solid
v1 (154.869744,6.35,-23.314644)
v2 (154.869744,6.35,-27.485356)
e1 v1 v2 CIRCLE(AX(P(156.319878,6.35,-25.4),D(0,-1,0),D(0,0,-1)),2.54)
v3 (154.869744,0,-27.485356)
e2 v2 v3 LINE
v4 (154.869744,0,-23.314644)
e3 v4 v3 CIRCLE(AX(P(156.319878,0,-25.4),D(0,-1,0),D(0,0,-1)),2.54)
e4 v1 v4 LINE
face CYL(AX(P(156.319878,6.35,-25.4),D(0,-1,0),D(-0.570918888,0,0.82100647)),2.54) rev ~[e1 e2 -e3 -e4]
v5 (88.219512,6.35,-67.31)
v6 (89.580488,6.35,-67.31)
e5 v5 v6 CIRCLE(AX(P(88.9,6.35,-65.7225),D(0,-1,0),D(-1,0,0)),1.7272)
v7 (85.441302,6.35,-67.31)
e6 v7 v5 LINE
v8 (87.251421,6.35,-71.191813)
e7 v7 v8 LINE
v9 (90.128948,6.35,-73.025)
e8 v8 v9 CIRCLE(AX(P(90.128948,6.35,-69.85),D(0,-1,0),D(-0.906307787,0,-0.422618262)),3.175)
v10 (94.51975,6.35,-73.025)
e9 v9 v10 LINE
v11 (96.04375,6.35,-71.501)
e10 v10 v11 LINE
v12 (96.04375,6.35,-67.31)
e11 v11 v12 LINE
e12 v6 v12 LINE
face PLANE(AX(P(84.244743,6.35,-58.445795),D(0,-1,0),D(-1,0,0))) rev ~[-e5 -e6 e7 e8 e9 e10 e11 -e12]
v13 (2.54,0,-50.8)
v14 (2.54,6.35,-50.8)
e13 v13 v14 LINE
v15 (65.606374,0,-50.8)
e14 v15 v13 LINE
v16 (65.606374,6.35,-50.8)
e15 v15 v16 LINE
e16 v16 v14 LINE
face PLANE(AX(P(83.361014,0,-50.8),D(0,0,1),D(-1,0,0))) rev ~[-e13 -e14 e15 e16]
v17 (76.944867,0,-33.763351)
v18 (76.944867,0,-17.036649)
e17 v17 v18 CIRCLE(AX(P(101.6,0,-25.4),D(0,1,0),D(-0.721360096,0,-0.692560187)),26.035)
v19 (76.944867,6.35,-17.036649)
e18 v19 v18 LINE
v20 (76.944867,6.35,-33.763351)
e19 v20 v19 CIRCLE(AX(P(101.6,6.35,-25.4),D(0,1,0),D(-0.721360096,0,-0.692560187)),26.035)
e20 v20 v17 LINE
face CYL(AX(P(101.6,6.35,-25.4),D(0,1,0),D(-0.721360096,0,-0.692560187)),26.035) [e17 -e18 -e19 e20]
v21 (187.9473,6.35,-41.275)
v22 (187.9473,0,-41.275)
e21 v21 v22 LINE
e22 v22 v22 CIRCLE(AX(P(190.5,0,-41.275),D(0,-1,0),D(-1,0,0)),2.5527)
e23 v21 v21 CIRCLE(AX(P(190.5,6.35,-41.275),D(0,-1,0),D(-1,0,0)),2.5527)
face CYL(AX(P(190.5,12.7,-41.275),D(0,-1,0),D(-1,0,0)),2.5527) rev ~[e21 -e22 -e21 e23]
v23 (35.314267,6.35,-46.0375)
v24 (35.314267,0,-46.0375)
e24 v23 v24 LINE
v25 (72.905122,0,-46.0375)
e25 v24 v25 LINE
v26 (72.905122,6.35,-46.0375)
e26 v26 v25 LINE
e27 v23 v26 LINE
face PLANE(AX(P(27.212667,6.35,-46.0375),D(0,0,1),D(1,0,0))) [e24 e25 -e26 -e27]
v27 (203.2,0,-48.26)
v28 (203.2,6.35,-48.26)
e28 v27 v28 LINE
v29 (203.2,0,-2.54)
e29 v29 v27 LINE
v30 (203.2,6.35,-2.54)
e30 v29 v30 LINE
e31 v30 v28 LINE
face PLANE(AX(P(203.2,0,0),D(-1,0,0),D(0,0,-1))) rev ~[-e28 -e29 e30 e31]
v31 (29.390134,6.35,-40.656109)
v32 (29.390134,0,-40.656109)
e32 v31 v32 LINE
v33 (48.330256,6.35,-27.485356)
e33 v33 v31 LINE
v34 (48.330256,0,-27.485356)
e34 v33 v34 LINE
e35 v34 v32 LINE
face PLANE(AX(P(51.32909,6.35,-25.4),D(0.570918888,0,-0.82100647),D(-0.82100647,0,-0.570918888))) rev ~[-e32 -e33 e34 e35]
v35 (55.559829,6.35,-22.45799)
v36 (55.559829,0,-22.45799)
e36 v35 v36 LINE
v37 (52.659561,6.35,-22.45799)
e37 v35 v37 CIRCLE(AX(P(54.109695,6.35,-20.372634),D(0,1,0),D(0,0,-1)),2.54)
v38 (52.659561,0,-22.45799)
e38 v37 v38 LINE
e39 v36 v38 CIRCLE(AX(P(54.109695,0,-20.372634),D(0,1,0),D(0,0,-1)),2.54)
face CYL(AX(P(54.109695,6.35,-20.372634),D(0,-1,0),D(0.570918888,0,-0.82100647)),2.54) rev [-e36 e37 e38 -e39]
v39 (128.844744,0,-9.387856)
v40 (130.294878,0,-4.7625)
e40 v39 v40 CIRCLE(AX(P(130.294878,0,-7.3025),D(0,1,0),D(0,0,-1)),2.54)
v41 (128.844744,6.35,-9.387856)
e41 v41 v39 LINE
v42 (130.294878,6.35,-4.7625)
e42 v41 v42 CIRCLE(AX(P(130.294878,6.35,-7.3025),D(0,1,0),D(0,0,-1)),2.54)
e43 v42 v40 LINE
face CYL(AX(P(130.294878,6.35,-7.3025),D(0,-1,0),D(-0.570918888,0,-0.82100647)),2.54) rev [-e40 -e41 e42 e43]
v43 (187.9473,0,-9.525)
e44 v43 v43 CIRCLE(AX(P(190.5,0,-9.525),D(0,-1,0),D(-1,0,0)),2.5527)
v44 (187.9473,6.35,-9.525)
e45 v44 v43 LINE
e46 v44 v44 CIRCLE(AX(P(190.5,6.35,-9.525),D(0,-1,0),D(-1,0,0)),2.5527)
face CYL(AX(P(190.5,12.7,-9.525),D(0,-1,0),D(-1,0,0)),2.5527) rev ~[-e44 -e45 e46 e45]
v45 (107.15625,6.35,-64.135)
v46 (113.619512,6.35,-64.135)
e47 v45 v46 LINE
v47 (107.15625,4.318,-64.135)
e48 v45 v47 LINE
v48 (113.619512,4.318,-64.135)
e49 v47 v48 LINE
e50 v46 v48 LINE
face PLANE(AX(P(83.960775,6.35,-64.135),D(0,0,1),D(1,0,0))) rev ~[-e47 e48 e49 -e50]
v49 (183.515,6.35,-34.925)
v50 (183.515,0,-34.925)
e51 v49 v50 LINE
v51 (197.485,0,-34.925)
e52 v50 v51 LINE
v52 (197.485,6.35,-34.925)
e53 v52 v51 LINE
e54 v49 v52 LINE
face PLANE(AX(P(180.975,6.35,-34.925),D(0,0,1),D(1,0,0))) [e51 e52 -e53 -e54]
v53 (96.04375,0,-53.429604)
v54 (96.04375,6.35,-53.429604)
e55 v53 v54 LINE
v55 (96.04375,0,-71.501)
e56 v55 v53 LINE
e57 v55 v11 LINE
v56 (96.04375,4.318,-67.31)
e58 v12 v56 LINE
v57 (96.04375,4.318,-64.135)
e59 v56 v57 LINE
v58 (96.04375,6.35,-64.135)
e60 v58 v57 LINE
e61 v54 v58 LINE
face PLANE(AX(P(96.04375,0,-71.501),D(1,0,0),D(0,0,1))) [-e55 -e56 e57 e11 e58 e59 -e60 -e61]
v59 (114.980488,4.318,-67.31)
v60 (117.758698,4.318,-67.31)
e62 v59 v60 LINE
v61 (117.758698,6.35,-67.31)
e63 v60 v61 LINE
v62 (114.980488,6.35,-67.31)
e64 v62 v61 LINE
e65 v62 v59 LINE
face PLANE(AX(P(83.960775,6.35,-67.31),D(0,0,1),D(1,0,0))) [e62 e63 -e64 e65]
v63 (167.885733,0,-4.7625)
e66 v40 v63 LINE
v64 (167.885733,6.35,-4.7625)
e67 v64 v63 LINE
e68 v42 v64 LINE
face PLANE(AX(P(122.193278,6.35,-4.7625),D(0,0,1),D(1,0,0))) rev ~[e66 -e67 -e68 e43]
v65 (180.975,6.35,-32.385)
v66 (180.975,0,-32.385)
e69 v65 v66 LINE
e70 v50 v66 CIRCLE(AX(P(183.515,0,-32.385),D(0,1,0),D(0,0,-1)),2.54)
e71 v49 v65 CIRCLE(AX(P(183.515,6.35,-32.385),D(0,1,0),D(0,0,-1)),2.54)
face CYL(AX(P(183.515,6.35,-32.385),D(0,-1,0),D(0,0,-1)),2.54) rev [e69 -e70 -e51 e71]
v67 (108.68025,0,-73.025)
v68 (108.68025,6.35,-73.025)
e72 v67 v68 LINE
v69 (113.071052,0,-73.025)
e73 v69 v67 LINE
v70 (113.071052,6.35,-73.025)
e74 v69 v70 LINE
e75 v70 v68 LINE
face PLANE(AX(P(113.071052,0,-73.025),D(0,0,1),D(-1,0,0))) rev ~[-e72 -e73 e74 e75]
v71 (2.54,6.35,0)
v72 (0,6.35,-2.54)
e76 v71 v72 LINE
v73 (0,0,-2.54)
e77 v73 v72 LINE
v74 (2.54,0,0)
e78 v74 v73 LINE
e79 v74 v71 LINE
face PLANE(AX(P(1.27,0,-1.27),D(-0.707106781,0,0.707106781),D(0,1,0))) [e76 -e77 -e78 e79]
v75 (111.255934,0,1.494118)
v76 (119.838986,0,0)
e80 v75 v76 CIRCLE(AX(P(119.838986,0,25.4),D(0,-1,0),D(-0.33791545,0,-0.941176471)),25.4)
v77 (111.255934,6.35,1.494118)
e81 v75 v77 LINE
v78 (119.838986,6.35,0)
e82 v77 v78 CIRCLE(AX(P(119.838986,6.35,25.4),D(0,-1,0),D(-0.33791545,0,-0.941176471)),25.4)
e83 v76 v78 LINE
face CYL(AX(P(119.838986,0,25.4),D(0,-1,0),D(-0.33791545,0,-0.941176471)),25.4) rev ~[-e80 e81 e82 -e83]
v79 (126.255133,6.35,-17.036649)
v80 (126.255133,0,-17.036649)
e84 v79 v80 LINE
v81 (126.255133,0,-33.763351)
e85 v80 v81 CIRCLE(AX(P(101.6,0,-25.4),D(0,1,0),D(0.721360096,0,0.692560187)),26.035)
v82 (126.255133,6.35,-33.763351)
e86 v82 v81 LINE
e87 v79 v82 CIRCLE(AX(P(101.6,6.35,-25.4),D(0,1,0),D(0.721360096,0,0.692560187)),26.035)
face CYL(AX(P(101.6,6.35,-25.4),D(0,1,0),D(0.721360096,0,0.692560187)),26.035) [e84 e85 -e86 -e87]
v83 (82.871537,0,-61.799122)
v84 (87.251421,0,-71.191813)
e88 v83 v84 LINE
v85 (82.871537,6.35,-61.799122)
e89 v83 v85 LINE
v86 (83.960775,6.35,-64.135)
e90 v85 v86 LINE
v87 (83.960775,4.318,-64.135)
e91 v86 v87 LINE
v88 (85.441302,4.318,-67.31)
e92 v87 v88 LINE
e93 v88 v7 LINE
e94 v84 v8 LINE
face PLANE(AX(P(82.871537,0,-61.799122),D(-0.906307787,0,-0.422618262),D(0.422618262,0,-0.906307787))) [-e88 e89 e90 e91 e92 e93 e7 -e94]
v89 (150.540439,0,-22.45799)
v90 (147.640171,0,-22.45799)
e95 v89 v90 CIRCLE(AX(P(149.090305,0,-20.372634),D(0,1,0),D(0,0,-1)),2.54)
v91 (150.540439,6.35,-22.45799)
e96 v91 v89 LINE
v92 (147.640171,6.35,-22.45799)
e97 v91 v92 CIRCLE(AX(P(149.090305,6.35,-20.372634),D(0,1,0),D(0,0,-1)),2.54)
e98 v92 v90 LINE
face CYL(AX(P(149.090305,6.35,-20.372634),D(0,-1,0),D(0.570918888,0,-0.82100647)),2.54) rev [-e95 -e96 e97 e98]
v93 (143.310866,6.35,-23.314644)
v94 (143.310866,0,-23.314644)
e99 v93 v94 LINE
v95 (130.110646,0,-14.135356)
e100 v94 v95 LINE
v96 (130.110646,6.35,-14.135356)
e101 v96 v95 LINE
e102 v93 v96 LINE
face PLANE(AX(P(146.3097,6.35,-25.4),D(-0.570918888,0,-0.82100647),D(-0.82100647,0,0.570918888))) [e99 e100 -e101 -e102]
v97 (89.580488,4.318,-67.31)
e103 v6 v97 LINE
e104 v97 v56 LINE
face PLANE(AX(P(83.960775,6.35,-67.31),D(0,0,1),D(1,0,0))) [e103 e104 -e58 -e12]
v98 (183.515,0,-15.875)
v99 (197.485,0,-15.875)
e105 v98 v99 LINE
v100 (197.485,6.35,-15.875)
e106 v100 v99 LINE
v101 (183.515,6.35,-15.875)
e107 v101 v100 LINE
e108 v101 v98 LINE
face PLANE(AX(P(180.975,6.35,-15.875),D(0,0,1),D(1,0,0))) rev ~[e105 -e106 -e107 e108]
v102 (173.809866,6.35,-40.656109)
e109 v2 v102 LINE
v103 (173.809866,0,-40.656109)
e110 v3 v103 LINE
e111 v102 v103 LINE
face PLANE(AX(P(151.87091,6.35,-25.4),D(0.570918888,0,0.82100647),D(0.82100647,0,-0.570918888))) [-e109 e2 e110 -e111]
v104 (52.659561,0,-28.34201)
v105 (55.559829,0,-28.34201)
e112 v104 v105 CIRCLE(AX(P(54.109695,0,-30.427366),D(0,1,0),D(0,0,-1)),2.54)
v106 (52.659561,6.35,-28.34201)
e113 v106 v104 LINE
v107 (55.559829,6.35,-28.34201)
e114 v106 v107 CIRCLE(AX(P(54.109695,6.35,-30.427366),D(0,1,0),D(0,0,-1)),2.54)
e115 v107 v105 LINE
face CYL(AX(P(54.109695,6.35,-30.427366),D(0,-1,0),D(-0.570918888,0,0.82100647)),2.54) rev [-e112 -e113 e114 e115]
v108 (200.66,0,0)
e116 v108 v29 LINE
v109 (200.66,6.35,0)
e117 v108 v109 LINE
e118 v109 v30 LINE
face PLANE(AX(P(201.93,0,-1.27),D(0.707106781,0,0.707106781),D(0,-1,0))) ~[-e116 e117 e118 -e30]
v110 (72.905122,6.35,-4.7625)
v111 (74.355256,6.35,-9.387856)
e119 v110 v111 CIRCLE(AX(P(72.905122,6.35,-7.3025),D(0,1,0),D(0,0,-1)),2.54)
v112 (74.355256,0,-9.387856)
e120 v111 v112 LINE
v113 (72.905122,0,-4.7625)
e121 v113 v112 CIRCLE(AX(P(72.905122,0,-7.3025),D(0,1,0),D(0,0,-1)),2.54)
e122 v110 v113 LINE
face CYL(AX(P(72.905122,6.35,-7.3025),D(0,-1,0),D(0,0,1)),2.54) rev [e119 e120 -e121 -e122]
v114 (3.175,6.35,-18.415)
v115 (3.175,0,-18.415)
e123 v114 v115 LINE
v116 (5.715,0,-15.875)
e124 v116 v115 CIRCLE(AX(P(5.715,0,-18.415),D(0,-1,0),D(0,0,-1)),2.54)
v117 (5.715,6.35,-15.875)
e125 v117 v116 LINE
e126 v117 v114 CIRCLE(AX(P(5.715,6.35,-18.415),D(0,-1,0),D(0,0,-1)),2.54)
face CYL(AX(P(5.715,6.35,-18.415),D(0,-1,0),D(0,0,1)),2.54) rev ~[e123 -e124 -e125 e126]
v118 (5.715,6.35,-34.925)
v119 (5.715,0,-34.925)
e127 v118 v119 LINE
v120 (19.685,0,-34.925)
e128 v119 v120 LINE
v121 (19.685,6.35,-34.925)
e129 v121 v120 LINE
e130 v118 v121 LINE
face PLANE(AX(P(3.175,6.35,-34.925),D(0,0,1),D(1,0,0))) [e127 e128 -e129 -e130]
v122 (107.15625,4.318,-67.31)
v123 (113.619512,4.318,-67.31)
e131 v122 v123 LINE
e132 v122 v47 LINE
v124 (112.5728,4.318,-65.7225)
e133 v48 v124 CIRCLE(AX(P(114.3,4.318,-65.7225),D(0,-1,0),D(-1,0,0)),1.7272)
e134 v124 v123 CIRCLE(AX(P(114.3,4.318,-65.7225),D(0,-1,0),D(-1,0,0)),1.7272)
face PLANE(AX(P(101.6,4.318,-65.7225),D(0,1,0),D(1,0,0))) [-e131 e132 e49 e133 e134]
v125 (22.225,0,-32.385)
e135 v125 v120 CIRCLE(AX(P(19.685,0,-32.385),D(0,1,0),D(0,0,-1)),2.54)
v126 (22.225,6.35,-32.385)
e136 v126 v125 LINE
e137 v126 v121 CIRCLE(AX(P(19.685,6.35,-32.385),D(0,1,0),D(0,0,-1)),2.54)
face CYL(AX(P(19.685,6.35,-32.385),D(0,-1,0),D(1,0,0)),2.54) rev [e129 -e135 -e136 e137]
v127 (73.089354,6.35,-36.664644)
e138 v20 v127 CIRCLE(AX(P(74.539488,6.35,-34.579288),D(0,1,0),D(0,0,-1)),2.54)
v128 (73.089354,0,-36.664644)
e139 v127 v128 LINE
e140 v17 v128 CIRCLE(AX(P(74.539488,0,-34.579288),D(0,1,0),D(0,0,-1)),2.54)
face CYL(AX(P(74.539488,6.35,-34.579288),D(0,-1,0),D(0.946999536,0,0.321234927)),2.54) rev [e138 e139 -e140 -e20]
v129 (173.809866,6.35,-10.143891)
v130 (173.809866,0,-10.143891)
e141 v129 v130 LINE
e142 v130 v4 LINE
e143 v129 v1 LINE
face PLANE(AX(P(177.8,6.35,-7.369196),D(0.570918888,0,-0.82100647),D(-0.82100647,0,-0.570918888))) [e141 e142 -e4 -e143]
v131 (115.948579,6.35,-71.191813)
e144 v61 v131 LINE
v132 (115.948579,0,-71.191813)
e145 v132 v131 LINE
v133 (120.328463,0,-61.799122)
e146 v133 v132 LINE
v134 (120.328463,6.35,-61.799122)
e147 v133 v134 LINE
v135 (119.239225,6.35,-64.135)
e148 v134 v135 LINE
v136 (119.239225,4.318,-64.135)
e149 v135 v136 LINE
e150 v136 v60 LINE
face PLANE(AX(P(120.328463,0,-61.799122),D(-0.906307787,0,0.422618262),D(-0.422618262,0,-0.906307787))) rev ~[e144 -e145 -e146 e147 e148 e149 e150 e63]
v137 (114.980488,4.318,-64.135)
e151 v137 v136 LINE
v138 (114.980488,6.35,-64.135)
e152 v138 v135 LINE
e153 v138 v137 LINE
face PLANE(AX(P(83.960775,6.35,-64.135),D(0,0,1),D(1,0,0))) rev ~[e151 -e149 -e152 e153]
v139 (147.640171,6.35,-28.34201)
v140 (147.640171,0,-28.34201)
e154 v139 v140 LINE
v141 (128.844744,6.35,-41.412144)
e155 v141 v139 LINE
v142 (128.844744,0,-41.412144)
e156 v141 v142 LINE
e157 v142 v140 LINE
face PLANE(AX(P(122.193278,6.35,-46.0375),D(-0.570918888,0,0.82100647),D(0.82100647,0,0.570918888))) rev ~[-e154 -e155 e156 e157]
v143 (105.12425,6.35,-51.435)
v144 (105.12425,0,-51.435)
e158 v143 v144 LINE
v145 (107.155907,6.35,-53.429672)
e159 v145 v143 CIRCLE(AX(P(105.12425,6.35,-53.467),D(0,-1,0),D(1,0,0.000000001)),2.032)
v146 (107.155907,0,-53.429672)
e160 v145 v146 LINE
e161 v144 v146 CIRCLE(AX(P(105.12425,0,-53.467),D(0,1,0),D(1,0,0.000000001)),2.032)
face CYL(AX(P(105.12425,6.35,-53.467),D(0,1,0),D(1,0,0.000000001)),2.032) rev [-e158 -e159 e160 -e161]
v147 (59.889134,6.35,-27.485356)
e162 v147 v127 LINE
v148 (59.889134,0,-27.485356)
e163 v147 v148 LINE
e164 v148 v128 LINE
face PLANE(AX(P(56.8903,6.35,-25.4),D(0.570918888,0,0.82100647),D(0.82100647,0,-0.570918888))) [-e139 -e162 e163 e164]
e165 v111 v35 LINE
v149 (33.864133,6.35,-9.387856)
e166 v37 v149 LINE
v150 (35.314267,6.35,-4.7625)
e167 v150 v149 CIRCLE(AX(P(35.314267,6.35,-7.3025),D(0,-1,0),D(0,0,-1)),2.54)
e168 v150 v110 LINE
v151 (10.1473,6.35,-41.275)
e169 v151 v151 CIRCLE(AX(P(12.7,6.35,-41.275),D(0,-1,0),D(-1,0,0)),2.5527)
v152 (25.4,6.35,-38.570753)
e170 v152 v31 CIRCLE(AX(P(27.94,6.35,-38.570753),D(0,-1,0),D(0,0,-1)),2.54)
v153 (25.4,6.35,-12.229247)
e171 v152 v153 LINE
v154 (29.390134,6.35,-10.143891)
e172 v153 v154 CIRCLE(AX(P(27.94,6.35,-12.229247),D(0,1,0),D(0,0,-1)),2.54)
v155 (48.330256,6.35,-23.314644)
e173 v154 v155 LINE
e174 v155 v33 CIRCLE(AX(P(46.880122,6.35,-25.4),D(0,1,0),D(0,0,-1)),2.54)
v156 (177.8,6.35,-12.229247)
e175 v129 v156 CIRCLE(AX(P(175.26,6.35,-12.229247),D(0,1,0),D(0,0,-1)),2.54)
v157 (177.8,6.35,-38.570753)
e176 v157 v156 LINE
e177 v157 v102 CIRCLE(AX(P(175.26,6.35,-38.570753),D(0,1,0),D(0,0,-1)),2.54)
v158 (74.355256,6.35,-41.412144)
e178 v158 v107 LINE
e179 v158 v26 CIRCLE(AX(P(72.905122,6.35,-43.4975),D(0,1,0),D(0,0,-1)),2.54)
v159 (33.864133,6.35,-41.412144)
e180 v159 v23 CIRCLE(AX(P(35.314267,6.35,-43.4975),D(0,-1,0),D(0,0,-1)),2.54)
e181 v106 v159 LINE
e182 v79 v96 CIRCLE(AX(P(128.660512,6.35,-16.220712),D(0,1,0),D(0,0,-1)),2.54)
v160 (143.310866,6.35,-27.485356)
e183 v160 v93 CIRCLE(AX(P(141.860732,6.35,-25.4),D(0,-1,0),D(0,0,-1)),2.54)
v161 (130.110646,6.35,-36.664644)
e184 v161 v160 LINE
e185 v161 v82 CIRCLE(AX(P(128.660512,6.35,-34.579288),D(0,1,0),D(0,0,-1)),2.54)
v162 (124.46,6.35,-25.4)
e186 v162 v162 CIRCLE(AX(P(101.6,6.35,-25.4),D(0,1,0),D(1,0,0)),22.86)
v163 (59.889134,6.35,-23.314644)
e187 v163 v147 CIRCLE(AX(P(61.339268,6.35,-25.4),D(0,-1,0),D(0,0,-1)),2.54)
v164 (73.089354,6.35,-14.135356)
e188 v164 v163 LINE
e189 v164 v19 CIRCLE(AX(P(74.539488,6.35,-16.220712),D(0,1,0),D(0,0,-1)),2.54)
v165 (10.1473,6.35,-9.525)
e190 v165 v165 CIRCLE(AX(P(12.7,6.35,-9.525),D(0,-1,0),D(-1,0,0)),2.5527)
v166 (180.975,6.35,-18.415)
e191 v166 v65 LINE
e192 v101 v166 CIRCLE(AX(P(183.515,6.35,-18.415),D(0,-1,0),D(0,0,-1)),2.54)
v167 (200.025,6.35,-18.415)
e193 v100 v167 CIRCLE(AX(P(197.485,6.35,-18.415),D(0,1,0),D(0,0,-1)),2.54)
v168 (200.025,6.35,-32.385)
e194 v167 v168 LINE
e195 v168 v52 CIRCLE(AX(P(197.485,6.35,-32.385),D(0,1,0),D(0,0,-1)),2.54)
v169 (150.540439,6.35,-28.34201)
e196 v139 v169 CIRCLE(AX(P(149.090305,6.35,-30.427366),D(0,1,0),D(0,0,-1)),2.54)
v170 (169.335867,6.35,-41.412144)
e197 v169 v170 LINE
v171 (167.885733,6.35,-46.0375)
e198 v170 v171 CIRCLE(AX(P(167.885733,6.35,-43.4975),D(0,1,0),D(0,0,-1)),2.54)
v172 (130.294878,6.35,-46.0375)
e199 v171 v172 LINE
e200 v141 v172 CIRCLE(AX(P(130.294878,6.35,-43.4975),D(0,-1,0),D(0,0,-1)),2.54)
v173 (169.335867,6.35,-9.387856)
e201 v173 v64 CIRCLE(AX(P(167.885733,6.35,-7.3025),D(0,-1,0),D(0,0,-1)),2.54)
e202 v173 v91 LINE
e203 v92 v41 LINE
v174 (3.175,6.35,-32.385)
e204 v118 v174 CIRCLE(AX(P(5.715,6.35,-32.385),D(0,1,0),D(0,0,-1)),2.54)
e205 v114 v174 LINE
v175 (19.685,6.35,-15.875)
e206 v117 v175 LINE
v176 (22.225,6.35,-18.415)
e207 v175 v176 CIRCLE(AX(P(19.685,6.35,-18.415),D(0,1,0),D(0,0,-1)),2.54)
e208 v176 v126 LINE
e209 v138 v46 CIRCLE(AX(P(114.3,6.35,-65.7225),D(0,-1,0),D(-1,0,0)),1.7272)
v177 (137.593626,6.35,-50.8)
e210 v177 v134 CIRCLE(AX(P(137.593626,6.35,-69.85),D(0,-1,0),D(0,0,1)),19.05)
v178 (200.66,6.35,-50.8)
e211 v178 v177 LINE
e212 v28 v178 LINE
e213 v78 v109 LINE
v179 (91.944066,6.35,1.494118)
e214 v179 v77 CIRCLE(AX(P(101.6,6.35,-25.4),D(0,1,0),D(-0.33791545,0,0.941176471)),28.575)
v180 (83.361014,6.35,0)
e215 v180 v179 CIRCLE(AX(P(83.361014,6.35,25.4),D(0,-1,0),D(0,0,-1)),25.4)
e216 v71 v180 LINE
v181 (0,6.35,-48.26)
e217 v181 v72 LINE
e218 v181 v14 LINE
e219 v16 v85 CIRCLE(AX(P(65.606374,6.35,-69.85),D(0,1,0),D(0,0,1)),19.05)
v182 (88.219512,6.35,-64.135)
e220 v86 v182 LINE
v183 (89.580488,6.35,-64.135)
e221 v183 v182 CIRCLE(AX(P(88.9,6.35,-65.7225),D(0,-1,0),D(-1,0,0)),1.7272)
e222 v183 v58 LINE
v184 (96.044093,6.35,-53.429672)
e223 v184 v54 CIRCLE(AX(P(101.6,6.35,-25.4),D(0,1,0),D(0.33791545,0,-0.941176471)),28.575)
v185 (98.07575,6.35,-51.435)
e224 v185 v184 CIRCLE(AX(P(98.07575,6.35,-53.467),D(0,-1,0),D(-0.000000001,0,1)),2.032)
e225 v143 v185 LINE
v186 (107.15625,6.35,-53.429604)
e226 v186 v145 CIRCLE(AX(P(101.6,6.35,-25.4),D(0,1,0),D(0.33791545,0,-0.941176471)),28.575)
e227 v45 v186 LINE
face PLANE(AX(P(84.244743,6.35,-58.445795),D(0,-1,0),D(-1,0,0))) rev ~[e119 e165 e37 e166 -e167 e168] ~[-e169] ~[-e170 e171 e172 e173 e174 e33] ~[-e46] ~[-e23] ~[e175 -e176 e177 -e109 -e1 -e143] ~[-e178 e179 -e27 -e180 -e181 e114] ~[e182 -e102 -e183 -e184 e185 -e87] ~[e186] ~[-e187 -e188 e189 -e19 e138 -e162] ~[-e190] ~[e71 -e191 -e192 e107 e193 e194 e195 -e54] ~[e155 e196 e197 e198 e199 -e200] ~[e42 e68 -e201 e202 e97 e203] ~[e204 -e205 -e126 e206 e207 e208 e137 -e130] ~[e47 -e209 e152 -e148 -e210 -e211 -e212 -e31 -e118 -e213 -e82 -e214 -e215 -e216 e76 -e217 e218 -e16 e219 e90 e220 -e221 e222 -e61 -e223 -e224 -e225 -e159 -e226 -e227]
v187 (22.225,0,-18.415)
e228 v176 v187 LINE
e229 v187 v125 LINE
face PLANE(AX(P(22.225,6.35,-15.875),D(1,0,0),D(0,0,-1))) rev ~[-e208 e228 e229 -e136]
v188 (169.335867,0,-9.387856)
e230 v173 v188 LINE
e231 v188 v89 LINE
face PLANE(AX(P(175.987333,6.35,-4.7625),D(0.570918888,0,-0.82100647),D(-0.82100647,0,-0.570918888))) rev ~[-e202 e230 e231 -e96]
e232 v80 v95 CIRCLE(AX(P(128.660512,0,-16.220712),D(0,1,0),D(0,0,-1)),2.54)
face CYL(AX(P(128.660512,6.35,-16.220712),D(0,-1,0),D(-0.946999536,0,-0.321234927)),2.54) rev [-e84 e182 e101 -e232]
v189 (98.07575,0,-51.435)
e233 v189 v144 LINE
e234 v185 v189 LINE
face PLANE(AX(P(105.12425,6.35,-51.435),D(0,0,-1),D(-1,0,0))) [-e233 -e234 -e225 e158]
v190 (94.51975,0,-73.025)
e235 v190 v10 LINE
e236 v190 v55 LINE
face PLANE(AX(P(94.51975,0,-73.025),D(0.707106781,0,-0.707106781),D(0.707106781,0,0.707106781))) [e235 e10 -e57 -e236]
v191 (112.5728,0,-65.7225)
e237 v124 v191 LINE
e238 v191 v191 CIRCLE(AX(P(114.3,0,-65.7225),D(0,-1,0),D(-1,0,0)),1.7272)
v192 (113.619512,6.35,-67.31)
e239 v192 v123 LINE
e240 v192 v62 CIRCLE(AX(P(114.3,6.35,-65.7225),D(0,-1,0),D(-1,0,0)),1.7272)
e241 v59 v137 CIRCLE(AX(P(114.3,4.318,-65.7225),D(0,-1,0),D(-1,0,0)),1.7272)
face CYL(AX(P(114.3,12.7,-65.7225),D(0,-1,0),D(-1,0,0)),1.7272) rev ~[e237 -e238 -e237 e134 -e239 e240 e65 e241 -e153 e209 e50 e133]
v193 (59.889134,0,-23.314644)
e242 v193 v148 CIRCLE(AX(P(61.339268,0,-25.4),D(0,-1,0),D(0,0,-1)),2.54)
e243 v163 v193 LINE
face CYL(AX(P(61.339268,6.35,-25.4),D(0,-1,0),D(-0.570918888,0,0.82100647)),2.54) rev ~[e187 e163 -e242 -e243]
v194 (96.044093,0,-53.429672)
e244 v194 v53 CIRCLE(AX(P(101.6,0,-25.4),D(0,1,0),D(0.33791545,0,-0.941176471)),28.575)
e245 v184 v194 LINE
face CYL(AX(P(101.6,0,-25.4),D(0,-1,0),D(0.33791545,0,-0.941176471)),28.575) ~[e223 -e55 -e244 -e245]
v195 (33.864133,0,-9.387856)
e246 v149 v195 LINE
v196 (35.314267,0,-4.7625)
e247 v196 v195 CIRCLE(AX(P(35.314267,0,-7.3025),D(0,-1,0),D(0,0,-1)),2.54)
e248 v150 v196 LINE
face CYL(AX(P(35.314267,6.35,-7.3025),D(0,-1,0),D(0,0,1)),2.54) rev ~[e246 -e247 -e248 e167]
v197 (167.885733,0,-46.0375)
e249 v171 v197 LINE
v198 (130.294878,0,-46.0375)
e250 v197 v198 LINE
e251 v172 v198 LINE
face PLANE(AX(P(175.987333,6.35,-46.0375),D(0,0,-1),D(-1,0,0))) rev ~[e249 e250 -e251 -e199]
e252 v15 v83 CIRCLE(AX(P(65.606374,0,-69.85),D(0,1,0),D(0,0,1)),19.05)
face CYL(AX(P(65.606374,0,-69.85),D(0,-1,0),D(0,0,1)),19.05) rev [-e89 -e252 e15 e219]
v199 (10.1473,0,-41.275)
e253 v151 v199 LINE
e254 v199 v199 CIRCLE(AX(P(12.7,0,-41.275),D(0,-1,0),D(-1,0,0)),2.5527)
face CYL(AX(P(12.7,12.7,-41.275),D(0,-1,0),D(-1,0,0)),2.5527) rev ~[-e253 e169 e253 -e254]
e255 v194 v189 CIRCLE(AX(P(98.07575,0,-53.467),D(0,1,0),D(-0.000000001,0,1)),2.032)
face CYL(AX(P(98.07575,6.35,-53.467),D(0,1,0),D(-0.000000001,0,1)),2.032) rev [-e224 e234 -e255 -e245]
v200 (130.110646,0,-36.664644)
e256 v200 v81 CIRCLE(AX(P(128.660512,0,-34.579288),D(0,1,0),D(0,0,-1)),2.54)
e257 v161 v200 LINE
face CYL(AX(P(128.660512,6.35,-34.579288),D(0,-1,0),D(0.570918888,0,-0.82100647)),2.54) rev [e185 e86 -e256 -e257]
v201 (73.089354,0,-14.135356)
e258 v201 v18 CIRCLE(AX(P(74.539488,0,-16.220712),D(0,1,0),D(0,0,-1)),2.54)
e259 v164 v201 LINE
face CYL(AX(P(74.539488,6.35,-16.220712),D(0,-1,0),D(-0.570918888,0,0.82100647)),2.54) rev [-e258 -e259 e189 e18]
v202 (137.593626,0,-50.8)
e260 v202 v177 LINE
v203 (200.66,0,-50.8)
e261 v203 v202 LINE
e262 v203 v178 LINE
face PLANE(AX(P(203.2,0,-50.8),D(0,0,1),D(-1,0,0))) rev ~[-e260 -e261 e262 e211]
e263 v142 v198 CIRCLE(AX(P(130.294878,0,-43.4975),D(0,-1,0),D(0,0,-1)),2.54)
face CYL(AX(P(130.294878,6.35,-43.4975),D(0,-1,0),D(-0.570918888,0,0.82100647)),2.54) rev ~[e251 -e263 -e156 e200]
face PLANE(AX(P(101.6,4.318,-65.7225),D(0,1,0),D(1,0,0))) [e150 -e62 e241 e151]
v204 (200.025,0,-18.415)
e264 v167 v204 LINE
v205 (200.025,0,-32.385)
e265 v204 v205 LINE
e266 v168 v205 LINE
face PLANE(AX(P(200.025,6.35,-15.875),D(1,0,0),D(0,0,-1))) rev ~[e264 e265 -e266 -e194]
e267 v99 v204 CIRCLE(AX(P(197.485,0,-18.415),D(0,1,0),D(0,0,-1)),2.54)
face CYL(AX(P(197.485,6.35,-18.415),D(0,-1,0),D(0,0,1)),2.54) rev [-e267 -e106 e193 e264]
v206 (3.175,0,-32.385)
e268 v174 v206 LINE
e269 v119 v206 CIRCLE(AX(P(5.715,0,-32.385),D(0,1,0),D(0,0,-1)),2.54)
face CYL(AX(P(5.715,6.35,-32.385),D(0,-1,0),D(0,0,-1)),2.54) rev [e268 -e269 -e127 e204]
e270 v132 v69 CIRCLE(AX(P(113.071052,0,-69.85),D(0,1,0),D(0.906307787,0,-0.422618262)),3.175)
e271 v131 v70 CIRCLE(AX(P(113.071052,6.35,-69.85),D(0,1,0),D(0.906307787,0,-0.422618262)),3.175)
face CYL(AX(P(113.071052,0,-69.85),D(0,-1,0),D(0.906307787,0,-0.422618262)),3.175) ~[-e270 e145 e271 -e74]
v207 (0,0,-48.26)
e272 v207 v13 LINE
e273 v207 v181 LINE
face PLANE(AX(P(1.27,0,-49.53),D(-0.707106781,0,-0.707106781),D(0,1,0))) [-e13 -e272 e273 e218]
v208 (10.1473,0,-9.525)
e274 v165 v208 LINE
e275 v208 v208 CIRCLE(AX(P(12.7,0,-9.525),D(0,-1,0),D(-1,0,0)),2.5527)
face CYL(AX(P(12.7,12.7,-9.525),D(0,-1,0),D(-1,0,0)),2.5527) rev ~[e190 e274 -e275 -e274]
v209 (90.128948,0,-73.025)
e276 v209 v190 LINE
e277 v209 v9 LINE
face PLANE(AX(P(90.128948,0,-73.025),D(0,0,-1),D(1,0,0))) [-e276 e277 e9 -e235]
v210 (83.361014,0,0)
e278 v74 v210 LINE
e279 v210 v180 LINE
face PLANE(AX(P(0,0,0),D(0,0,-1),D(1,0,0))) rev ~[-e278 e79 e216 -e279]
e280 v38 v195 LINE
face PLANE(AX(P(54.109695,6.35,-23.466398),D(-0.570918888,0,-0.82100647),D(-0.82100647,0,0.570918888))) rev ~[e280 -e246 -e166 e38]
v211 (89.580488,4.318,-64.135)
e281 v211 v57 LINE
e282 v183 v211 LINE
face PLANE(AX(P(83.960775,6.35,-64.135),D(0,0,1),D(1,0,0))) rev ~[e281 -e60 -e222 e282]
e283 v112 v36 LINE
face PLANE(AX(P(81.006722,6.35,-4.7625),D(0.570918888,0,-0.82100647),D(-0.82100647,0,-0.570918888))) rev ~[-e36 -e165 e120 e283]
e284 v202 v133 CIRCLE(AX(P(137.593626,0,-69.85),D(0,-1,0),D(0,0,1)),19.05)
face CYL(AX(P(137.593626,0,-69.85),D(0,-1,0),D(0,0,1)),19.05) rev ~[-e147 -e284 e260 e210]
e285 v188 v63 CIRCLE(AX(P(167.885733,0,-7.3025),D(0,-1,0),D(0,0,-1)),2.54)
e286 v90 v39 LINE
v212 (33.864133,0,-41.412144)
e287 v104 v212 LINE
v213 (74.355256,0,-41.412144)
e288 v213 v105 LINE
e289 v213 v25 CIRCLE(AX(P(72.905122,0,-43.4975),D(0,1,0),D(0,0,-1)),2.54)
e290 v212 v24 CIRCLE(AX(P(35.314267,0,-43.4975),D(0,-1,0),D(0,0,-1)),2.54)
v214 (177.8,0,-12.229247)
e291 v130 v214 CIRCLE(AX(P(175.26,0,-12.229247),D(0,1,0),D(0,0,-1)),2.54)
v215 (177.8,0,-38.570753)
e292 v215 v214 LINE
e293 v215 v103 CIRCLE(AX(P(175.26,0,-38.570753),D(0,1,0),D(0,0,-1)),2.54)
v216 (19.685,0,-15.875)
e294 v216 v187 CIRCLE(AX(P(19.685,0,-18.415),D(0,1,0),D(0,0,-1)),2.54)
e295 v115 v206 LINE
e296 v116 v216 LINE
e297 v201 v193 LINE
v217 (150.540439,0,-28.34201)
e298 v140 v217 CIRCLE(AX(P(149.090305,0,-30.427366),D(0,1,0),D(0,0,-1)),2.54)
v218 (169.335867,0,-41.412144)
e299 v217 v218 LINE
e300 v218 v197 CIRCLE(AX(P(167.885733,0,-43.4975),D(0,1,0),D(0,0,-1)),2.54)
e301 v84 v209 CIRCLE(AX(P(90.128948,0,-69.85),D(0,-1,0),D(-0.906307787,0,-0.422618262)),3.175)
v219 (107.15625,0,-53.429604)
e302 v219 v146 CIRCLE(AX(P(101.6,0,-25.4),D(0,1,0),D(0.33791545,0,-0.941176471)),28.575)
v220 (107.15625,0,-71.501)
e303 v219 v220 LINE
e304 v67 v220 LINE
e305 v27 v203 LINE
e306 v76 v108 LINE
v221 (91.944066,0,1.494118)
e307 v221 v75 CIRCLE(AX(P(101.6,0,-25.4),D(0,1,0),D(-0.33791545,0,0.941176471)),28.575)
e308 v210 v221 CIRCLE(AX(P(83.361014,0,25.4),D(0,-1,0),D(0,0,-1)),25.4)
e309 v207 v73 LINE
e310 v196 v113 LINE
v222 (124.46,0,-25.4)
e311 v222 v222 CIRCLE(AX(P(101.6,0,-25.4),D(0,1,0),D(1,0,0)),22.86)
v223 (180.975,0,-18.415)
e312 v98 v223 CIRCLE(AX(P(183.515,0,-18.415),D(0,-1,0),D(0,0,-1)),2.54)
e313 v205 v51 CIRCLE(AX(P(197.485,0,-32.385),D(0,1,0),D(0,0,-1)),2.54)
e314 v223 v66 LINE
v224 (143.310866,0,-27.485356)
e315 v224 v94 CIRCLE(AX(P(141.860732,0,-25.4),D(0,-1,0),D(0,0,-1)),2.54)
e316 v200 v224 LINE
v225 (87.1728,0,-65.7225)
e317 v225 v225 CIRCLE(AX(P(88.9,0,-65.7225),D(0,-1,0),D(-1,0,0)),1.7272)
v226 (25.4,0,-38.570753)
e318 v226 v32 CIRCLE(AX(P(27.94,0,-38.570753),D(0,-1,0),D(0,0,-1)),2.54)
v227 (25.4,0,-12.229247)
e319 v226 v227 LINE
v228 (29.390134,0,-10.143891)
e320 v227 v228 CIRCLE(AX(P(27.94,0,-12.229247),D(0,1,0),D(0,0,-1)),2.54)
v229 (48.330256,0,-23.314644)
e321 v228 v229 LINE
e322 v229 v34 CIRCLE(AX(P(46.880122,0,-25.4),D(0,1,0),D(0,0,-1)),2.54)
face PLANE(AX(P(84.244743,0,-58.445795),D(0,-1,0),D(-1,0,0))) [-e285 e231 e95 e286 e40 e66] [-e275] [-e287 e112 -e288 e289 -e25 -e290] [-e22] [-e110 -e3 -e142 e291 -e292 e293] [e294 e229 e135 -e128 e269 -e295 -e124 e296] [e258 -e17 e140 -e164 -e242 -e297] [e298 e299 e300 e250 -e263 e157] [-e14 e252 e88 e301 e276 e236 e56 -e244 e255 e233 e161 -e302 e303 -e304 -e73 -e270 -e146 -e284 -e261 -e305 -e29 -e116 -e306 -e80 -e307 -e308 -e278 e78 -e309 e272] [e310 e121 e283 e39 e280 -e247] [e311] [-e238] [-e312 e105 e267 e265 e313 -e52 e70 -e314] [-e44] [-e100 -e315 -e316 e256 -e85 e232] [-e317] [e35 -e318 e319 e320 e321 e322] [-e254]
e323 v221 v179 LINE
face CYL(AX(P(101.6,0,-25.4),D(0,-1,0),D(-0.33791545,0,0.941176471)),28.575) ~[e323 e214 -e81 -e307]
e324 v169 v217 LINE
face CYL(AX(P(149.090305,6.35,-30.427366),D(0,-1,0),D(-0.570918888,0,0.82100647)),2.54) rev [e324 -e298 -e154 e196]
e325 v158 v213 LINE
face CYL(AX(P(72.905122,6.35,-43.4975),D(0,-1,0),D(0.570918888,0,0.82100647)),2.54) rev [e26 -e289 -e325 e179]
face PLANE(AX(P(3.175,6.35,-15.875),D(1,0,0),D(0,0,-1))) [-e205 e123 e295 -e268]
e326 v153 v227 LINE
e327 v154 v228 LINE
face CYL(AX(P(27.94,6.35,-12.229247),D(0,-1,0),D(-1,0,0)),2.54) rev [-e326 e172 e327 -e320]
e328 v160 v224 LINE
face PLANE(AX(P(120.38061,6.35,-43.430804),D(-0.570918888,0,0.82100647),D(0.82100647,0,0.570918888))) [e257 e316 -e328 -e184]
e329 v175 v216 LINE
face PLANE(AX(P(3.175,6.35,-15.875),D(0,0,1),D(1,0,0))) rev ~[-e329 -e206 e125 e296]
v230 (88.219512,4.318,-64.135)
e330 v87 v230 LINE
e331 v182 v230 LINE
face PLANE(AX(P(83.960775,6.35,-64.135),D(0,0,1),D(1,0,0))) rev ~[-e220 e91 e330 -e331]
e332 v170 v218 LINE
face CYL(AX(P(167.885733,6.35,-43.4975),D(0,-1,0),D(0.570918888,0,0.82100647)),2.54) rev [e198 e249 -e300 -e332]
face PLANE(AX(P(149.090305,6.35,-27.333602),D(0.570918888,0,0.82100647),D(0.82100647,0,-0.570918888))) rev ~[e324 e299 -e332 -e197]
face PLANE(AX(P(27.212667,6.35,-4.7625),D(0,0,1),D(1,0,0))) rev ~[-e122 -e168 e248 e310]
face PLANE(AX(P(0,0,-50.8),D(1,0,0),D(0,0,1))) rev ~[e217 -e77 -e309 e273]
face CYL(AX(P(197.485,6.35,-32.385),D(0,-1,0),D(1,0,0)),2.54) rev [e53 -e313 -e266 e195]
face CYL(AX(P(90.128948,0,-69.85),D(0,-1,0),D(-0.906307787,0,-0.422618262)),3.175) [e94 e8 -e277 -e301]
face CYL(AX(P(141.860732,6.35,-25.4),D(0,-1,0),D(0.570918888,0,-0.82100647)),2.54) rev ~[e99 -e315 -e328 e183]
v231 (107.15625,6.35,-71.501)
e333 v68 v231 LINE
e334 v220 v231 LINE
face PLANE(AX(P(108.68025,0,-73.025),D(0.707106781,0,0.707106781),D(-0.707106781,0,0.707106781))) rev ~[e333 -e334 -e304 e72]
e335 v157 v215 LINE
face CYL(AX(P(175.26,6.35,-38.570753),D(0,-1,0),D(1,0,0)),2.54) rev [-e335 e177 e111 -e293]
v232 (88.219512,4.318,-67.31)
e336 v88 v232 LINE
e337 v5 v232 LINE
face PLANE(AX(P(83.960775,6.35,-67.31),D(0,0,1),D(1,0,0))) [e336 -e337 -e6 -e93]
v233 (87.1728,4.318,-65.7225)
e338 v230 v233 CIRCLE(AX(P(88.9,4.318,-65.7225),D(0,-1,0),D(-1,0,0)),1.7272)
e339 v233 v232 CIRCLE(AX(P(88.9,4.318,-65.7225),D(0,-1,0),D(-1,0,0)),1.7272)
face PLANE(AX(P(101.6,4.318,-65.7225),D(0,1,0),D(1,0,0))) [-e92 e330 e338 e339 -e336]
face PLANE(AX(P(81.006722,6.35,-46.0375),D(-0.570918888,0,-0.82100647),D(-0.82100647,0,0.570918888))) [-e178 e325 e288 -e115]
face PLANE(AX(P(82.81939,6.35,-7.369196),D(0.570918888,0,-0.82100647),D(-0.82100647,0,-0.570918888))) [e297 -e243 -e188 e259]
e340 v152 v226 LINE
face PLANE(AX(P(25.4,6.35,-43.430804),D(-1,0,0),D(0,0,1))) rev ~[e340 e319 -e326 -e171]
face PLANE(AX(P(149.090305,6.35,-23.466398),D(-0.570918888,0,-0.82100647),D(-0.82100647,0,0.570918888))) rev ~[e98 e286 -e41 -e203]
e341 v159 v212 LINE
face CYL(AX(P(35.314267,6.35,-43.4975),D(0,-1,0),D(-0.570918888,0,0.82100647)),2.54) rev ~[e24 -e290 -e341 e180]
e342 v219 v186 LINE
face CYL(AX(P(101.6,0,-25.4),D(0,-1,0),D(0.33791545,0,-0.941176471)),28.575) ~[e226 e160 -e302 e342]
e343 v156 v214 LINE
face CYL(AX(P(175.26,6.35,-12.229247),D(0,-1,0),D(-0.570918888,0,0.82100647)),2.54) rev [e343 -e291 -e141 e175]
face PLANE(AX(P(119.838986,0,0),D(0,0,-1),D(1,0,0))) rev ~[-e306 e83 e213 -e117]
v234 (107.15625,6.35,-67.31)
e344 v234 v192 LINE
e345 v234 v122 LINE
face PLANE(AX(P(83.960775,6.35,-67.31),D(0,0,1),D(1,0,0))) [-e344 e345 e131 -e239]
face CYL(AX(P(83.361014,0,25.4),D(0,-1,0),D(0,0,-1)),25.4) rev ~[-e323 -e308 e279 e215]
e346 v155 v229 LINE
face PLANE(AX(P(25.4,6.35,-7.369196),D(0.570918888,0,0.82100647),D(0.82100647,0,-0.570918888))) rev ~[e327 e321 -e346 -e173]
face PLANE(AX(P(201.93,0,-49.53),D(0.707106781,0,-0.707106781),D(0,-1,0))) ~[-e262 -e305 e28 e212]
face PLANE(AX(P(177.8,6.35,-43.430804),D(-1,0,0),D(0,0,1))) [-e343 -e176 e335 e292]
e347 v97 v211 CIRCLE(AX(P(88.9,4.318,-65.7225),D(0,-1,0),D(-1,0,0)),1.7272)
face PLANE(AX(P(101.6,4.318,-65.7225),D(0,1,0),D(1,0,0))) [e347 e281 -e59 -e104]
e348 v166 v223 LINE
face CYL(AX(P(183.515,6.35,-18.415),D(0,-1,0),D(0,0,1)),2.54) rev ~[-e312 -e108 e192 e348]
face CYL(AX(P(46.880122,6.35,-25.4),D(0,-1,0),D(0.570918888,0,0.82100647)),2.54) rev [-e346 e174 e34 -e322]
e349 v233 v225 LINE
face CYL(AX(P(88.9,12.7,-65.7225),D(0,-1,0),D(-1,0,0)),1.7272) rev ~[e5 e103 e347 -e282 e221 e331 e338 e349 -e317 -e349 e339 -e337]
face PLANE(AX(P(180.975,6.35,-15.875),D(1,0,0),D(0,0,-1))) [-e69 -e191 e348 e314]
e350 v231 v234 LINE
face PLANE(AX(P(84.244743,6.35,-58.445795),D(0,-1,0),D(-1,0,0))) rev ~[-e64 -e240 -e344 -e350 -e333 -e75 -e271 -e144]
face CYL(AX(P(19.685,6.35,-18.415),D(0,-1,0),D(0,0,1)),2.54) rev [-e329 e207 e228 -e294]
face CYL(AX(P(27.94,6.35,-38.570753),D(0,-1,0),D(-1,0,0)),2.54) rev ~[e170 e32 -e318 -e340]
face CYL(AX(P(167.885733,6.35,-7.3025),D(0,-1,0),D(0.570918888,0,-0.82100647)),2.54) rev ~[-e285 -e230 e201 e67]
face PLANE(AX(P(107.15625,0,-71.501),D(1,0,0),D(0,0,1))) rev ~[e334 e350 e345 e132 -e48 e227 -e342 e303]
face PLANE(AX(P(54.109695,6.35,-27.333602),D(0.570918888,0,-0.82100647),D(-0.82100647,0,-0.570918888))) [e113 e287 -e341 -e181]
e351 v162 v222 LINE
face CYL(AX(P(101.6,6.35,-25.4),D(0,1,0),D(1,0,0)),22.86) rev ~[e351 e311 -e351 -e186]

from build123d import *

# Parameters (mm, degrees)
BOSS_EXTRUDE1_DEPTH        = 6.35
F_10_CLEARANCE_HOLE1_D     = 5.1054
F_10_CLEARANCE_HOLE1_DEPTH = 6.35
SKETCH5_R                  = 22.86
CUT_EXTRUDE1_DEPTH         = 7.35
CHAMFER1_SIZE              = 2.54
SKETCH6_W                  = 19.05
SKETCH6_H                  = 19.05
CUT_EXTRUDE2_DEPTH         = 6.35
FILLET1_R                  = 2.54
BOSS_EXTRUDE2_DEPTH        = 6.35
SKETCH8_W                  = 35.278450162
SKETCH8_H                  = 3.175
CUT_EXTRUDE3_DEPTH         = 2.032
CUT_EXTRUDE4_DEPTH         = 7.35
F_8_32_TAPPED_HOLE1_D      = 3.4544
F_8_32_TAPPED_HOLE1_DEPTH  = 6.35


with BuildPart() as part:
    # Sketch1 → Boss-Extrude1 (new body)
    with BuildSketch(Plane(origin=(0, 0, 0), x_dir=(1, 0, 0), z_dir=(0, 1, 0))):
        with BuildLine():
            Line((0, 0), (83.361013597, 0))
            ThreePointArc((83.361013597, 0), (87.71707766, -0.3763171), (91.944066022, -1.494117647))
            ThreePointArc((91.944066022, -1.494117647), (101.6, -3.175), (111.255933978, -1.494117647))
            ThreePointArc((111.255933978, -1.494117647), (115.48292234, -0.3763171), (119.838986403, 0))
            Line((119.838986403, 0), (203.2, 0))
            Line((203.2, 0), (203.2, 50.8))
            Line((203.2, 50.8), (119.838986403, 50.8))
            ThreePointArc((119.838986403, 50.8), (115.48292234, 51.1763171), (111.255933978, 52.294117647))
            ThreePointArc((111.255933978, 52.294117647), (101.6, 53.975), (91.944066022, 52.294117647))
            ThreePointArc((91.944066022, 52.294117647), (87.71707766, 51.1763171), (83.361013597, 50.8))
            Line((83.361013597, 50.8), (0, 50.8))
            Line((0, 50.8), (0, 0))
        make_face()
    extrude(amount=BOSS_EXTRUDE1_DEPTH)

    # #10 Clearance Hole1
    with Locations(Plane(origin=(0, 6.35, 0), x_dir=(1, 0, 0), z_dir=(0, 1, 0))):
        with Locations((12.7, 41.275), (12.7, 9.525), (190.5, 9.525), (190.5, 41.275)):
            Hole(F_10_CLEARANCE_HOLE1_D / 2, depth=F_10_CLEARANCE_HOLE1_DEPTH)

    # Sketch5 → Cut-Extrude1 (cut, through all)
    with BuildSketch(Plane(origin=(0, 6.35, 0), x_dir=(1, 0, 0), z_dir=(0, 1, 0))):
        with Locations((101.6, 25.4)):
            Circle(SKETCH5_R)
    extrude(amount=-CUT_EXTRUDE1_DEPTH, mode=Mode.SUBTRACT)

    # Chamfer1
    chamfer1_edges = [part.edges().sort_by_distance(p)[0] for p in [
        (0, 3.175, -50.8),
        (203.2, 3.175, -50.8),
        (203.2, 3.175, 0),
        (0, 3.175, 0),
    ]]
    chamfer(chamfer1_edges, length=CHAMFER1_SIZE)

    # Sketch6 → Cut-Extrude2 (cut)
    with BuildSketch(Plane(origin=(0, 6.35, 0), x_dir=(1, 0, 0), z_dir=(0, 1, 0))):
        Polygon((27.212667469, 46.0375), (81.006722435, 46.0375), (54.109694952, 27.333602302), align=None)
        Polygon((25.4, 43.430804459), (25.4, 7.369195541), (51.329089802, 25.4), align=None)
        Polygon((27.212667469, 4.7625), (81.006722435, 4.7625), (54.109694952, 23.466397698), align=None)
        with Locations((12.7, 25.4)):
            Rectangle(SKETCH6_W, SKETCH6_H)
        with BuildLine():
            Line((56.890300102, 25.4), (82.819389904, 43.430804459))
            ThreePointArc((82.819389904, 43.430804459), (75.565, 25.4), (82.819389904, 7.369195541))
            Line((82.819389904, 7.369195541), (56.890300102, 25.4))
        make_face()
        Polygon((151.870910198, 25.4), (177.8, 43.430804459), (177.8, 7.369195541), align=None)
        with BuildLine():
            Line((146.309699898, 25.4), (120.380610096, 7.369195541))
            ThreePointArc((120.380610096, 7.369195541), (127.635, 25.4), (120.380610096, 43.430804459))
            Line((120.380610096, 43.430804459), (146.309699898, 25.4))
        make_face()
        Polygon((175.987332531, 4.7625), (149.090305048, 23.466397698), (122.193277565, 4.7625), align=None)
        Polygon((122.193277565, 46.0375), (149.090305048, 27.333602302), (175.987332531, 46.0375), align=None)
        with Locations((190.5, 25.4)):
            Rectangle(SKETCH6_W, SKETCH6_H)
    extrude(amount=-CUT_EXTRUDE2_DEPTH, mode=Mode.SUBTRACT)

    # Fillet1
    fillet1_edges = [part.edges().sort_by_distance(p)[0] for p in [
        (180.975, 3.175, -34.925),
        (200.025, 3.175, -34.925),
        (200.025, 3.175, -15.875),
        (180.975, 3.175, -15.875),
        (120.380610096, 3.175, -7.369195541),
        (120.380610096, 3.175, -43.430804459),
        (146.309699898, 3.175, -25.4),
        (51.329089802, 3.175, -25.4),
        (25.4, 3.175, -7.369195541),
        (25.4, 3.175, -43.430804459),
        (82.819389904, 3.175, -43.430804459),
        (82.819389904, 3.175, -7.369195541),
        (56.890300102, 3.175, -25.4),
        (54.109694952, 3.175, -23.466397698),
        (81.006722435, 3.175, -4.7625),
        (27.212667469, 3.175, -4.7625),
        (3.175, 3.175, -15.875),
        (3.175, 3.175, -34.925),
        (22.225, 3.175, -34.925),
        (22.225, 3.175, -15.875),
        (122.193277565, 3.175, -46.0375),
        (175.987332531, 3.175, -46.0375),
        (149.090305048, 3.175, -27.333602302),
        (177.8, 3.175, -7.369195541),
        (151.870910198, 3.175, -25.4),
        (177.8, 3.175, -43.430804459),
        (175.987332531, 3.175, -4.7625),
        (122.193277565, 3.175, -4.7625),
        (149.090305048, 3.175, -23.466397698),
        (81.006722435, 3.175, -46.0375),
        (54.109694952, 3.175, -27.333602302),
        (27.212667469, 3.175, -46.0375),
    ]]
    fillet(fillet1_edges, radius=FILLET1_R)

    # Sketch7 → Boss-Extrude2 (add)
    with BuildSketch(Plane(origin=(0, 0, 0), x_dir=(1, 0, 0), z_dir=(0, 1, 0))):
        with BuildLine():
            Line((82.871537172, 61.799122114), (87.251420854, 71.191812981))
            ThreePointArc((87.251420854, 71.191812981), (88.423021822, 72.52776784), (90.128948078, 73.025))
            Line((90.128948078, 73.025), (94.51975, 73.025))
            Line((94.51975, 73.025), (96.04375, 71.501))
            Line((96.04375, 71.501), (96.04375, 53.429604188))
            ThreePointArc((96.04375, 53.429604188), (93.972748348, 52.938258065), (91.944066022, 52.294117647))
            ThreePointArc((91.944066022, 52.294117647), (87.71707766, 51.1763171), (83.361013597, 50.8))
            Line((83.361013597, 50.8), (65.606373829, 50.8))
            ThreePointArc((65.606373829, 50.8), (75.841931368, 53.783392957), (82.871537172, 61.799122114))
        make_face()
        with BuildLine():
            Line((120.328462828, 61.799122114), (115.948579146, 71.191812981))
            ThreePointArc((115.948579146, 71.191812981), (114.776978178, 72.52776784), (113.071051922, 73.025))
            Line((113.071051922, 73.025), (108.68025, 73.025))
            Line((108.68025, 73.025), (107.15625, 71.501))
            Line((107.15625, 71.501), (107.15625, 53.429604188))
            ThreePointArc((107.15625, 53.429604188), (109.227251652, 52.938258065), (111.255933978, 52.294117647))
            ThreePointArc((111.255933978, 52.294117647), (115.48292234, 51.1763171), (119.838986403, 50.8))
            Line((119.838986403, 50.8), (137.593626171, 50.8))
            ThreePointArc((137.593626171, 50.8), (127.358068632, 53.783392957), (120.328462828, 61.799122114))
        make_face()
    extrude(amount=BOSS_EXTRUDE2_DEPTH)

    # Sketch8 → Cut-Extrude3 (cut)
    with BuildSketch(Plane(origin=(0, 6.35, 0), x_dir=(1, 0, 0), z_dir=(0, 1, 0))):
        with Locations((101.6, 65.7225)):
            Rectangle(SKETCH8_W, SKETCH8_H)
    extrude(amount=-CUT_EXTRUDE3_DEPTH, mode=Mode.SUBTRACT)

    # Sketch9 → Cut-Extrude4 (cut, through all)
    with BuildSketch(Plane(origin=(0, 6.35, 0), x_dir=(1, 0, 0), z_dir=(0, 1, 0))):
        with BuildLine():
            Line((96.04375, 73.025), (107.15625, 73.025))
            Line((107.15625, 73.025), (107.15625, 53.467))
            ThreePointArc((107.15625, 53.467), (106.561090979, 52.030159021), (105.12425, 51.435))
            Line((105.12425, 51.435), (98.07575, 51.435))
            ThreePointArc((98.07575, 51.435), (96.638909021, 52.030159021), (96.04375, 53.467))
            Line((96.04375, 53.467), (96.04375, 73.025))
        make_face()
    extrude(amount=-CUT_EXTRUDE4_DEPTH, mode=Mode.SUBTRACT)

    # #8-32 Tapped Hole1
    with Locations(Plane(origin=(0, 6.35, 0), x_dir=(1, 0, 0), z_dir=(0, 1, 0))):
        with Locations((88.9, 65.7225), (114.3, 65.7225)):
            Hole(F_8_32_TAPPED_HOLE1_D / 2, depth=F_8_32_TAPPED_HOLE1_DEPTH)


solid = part.part
